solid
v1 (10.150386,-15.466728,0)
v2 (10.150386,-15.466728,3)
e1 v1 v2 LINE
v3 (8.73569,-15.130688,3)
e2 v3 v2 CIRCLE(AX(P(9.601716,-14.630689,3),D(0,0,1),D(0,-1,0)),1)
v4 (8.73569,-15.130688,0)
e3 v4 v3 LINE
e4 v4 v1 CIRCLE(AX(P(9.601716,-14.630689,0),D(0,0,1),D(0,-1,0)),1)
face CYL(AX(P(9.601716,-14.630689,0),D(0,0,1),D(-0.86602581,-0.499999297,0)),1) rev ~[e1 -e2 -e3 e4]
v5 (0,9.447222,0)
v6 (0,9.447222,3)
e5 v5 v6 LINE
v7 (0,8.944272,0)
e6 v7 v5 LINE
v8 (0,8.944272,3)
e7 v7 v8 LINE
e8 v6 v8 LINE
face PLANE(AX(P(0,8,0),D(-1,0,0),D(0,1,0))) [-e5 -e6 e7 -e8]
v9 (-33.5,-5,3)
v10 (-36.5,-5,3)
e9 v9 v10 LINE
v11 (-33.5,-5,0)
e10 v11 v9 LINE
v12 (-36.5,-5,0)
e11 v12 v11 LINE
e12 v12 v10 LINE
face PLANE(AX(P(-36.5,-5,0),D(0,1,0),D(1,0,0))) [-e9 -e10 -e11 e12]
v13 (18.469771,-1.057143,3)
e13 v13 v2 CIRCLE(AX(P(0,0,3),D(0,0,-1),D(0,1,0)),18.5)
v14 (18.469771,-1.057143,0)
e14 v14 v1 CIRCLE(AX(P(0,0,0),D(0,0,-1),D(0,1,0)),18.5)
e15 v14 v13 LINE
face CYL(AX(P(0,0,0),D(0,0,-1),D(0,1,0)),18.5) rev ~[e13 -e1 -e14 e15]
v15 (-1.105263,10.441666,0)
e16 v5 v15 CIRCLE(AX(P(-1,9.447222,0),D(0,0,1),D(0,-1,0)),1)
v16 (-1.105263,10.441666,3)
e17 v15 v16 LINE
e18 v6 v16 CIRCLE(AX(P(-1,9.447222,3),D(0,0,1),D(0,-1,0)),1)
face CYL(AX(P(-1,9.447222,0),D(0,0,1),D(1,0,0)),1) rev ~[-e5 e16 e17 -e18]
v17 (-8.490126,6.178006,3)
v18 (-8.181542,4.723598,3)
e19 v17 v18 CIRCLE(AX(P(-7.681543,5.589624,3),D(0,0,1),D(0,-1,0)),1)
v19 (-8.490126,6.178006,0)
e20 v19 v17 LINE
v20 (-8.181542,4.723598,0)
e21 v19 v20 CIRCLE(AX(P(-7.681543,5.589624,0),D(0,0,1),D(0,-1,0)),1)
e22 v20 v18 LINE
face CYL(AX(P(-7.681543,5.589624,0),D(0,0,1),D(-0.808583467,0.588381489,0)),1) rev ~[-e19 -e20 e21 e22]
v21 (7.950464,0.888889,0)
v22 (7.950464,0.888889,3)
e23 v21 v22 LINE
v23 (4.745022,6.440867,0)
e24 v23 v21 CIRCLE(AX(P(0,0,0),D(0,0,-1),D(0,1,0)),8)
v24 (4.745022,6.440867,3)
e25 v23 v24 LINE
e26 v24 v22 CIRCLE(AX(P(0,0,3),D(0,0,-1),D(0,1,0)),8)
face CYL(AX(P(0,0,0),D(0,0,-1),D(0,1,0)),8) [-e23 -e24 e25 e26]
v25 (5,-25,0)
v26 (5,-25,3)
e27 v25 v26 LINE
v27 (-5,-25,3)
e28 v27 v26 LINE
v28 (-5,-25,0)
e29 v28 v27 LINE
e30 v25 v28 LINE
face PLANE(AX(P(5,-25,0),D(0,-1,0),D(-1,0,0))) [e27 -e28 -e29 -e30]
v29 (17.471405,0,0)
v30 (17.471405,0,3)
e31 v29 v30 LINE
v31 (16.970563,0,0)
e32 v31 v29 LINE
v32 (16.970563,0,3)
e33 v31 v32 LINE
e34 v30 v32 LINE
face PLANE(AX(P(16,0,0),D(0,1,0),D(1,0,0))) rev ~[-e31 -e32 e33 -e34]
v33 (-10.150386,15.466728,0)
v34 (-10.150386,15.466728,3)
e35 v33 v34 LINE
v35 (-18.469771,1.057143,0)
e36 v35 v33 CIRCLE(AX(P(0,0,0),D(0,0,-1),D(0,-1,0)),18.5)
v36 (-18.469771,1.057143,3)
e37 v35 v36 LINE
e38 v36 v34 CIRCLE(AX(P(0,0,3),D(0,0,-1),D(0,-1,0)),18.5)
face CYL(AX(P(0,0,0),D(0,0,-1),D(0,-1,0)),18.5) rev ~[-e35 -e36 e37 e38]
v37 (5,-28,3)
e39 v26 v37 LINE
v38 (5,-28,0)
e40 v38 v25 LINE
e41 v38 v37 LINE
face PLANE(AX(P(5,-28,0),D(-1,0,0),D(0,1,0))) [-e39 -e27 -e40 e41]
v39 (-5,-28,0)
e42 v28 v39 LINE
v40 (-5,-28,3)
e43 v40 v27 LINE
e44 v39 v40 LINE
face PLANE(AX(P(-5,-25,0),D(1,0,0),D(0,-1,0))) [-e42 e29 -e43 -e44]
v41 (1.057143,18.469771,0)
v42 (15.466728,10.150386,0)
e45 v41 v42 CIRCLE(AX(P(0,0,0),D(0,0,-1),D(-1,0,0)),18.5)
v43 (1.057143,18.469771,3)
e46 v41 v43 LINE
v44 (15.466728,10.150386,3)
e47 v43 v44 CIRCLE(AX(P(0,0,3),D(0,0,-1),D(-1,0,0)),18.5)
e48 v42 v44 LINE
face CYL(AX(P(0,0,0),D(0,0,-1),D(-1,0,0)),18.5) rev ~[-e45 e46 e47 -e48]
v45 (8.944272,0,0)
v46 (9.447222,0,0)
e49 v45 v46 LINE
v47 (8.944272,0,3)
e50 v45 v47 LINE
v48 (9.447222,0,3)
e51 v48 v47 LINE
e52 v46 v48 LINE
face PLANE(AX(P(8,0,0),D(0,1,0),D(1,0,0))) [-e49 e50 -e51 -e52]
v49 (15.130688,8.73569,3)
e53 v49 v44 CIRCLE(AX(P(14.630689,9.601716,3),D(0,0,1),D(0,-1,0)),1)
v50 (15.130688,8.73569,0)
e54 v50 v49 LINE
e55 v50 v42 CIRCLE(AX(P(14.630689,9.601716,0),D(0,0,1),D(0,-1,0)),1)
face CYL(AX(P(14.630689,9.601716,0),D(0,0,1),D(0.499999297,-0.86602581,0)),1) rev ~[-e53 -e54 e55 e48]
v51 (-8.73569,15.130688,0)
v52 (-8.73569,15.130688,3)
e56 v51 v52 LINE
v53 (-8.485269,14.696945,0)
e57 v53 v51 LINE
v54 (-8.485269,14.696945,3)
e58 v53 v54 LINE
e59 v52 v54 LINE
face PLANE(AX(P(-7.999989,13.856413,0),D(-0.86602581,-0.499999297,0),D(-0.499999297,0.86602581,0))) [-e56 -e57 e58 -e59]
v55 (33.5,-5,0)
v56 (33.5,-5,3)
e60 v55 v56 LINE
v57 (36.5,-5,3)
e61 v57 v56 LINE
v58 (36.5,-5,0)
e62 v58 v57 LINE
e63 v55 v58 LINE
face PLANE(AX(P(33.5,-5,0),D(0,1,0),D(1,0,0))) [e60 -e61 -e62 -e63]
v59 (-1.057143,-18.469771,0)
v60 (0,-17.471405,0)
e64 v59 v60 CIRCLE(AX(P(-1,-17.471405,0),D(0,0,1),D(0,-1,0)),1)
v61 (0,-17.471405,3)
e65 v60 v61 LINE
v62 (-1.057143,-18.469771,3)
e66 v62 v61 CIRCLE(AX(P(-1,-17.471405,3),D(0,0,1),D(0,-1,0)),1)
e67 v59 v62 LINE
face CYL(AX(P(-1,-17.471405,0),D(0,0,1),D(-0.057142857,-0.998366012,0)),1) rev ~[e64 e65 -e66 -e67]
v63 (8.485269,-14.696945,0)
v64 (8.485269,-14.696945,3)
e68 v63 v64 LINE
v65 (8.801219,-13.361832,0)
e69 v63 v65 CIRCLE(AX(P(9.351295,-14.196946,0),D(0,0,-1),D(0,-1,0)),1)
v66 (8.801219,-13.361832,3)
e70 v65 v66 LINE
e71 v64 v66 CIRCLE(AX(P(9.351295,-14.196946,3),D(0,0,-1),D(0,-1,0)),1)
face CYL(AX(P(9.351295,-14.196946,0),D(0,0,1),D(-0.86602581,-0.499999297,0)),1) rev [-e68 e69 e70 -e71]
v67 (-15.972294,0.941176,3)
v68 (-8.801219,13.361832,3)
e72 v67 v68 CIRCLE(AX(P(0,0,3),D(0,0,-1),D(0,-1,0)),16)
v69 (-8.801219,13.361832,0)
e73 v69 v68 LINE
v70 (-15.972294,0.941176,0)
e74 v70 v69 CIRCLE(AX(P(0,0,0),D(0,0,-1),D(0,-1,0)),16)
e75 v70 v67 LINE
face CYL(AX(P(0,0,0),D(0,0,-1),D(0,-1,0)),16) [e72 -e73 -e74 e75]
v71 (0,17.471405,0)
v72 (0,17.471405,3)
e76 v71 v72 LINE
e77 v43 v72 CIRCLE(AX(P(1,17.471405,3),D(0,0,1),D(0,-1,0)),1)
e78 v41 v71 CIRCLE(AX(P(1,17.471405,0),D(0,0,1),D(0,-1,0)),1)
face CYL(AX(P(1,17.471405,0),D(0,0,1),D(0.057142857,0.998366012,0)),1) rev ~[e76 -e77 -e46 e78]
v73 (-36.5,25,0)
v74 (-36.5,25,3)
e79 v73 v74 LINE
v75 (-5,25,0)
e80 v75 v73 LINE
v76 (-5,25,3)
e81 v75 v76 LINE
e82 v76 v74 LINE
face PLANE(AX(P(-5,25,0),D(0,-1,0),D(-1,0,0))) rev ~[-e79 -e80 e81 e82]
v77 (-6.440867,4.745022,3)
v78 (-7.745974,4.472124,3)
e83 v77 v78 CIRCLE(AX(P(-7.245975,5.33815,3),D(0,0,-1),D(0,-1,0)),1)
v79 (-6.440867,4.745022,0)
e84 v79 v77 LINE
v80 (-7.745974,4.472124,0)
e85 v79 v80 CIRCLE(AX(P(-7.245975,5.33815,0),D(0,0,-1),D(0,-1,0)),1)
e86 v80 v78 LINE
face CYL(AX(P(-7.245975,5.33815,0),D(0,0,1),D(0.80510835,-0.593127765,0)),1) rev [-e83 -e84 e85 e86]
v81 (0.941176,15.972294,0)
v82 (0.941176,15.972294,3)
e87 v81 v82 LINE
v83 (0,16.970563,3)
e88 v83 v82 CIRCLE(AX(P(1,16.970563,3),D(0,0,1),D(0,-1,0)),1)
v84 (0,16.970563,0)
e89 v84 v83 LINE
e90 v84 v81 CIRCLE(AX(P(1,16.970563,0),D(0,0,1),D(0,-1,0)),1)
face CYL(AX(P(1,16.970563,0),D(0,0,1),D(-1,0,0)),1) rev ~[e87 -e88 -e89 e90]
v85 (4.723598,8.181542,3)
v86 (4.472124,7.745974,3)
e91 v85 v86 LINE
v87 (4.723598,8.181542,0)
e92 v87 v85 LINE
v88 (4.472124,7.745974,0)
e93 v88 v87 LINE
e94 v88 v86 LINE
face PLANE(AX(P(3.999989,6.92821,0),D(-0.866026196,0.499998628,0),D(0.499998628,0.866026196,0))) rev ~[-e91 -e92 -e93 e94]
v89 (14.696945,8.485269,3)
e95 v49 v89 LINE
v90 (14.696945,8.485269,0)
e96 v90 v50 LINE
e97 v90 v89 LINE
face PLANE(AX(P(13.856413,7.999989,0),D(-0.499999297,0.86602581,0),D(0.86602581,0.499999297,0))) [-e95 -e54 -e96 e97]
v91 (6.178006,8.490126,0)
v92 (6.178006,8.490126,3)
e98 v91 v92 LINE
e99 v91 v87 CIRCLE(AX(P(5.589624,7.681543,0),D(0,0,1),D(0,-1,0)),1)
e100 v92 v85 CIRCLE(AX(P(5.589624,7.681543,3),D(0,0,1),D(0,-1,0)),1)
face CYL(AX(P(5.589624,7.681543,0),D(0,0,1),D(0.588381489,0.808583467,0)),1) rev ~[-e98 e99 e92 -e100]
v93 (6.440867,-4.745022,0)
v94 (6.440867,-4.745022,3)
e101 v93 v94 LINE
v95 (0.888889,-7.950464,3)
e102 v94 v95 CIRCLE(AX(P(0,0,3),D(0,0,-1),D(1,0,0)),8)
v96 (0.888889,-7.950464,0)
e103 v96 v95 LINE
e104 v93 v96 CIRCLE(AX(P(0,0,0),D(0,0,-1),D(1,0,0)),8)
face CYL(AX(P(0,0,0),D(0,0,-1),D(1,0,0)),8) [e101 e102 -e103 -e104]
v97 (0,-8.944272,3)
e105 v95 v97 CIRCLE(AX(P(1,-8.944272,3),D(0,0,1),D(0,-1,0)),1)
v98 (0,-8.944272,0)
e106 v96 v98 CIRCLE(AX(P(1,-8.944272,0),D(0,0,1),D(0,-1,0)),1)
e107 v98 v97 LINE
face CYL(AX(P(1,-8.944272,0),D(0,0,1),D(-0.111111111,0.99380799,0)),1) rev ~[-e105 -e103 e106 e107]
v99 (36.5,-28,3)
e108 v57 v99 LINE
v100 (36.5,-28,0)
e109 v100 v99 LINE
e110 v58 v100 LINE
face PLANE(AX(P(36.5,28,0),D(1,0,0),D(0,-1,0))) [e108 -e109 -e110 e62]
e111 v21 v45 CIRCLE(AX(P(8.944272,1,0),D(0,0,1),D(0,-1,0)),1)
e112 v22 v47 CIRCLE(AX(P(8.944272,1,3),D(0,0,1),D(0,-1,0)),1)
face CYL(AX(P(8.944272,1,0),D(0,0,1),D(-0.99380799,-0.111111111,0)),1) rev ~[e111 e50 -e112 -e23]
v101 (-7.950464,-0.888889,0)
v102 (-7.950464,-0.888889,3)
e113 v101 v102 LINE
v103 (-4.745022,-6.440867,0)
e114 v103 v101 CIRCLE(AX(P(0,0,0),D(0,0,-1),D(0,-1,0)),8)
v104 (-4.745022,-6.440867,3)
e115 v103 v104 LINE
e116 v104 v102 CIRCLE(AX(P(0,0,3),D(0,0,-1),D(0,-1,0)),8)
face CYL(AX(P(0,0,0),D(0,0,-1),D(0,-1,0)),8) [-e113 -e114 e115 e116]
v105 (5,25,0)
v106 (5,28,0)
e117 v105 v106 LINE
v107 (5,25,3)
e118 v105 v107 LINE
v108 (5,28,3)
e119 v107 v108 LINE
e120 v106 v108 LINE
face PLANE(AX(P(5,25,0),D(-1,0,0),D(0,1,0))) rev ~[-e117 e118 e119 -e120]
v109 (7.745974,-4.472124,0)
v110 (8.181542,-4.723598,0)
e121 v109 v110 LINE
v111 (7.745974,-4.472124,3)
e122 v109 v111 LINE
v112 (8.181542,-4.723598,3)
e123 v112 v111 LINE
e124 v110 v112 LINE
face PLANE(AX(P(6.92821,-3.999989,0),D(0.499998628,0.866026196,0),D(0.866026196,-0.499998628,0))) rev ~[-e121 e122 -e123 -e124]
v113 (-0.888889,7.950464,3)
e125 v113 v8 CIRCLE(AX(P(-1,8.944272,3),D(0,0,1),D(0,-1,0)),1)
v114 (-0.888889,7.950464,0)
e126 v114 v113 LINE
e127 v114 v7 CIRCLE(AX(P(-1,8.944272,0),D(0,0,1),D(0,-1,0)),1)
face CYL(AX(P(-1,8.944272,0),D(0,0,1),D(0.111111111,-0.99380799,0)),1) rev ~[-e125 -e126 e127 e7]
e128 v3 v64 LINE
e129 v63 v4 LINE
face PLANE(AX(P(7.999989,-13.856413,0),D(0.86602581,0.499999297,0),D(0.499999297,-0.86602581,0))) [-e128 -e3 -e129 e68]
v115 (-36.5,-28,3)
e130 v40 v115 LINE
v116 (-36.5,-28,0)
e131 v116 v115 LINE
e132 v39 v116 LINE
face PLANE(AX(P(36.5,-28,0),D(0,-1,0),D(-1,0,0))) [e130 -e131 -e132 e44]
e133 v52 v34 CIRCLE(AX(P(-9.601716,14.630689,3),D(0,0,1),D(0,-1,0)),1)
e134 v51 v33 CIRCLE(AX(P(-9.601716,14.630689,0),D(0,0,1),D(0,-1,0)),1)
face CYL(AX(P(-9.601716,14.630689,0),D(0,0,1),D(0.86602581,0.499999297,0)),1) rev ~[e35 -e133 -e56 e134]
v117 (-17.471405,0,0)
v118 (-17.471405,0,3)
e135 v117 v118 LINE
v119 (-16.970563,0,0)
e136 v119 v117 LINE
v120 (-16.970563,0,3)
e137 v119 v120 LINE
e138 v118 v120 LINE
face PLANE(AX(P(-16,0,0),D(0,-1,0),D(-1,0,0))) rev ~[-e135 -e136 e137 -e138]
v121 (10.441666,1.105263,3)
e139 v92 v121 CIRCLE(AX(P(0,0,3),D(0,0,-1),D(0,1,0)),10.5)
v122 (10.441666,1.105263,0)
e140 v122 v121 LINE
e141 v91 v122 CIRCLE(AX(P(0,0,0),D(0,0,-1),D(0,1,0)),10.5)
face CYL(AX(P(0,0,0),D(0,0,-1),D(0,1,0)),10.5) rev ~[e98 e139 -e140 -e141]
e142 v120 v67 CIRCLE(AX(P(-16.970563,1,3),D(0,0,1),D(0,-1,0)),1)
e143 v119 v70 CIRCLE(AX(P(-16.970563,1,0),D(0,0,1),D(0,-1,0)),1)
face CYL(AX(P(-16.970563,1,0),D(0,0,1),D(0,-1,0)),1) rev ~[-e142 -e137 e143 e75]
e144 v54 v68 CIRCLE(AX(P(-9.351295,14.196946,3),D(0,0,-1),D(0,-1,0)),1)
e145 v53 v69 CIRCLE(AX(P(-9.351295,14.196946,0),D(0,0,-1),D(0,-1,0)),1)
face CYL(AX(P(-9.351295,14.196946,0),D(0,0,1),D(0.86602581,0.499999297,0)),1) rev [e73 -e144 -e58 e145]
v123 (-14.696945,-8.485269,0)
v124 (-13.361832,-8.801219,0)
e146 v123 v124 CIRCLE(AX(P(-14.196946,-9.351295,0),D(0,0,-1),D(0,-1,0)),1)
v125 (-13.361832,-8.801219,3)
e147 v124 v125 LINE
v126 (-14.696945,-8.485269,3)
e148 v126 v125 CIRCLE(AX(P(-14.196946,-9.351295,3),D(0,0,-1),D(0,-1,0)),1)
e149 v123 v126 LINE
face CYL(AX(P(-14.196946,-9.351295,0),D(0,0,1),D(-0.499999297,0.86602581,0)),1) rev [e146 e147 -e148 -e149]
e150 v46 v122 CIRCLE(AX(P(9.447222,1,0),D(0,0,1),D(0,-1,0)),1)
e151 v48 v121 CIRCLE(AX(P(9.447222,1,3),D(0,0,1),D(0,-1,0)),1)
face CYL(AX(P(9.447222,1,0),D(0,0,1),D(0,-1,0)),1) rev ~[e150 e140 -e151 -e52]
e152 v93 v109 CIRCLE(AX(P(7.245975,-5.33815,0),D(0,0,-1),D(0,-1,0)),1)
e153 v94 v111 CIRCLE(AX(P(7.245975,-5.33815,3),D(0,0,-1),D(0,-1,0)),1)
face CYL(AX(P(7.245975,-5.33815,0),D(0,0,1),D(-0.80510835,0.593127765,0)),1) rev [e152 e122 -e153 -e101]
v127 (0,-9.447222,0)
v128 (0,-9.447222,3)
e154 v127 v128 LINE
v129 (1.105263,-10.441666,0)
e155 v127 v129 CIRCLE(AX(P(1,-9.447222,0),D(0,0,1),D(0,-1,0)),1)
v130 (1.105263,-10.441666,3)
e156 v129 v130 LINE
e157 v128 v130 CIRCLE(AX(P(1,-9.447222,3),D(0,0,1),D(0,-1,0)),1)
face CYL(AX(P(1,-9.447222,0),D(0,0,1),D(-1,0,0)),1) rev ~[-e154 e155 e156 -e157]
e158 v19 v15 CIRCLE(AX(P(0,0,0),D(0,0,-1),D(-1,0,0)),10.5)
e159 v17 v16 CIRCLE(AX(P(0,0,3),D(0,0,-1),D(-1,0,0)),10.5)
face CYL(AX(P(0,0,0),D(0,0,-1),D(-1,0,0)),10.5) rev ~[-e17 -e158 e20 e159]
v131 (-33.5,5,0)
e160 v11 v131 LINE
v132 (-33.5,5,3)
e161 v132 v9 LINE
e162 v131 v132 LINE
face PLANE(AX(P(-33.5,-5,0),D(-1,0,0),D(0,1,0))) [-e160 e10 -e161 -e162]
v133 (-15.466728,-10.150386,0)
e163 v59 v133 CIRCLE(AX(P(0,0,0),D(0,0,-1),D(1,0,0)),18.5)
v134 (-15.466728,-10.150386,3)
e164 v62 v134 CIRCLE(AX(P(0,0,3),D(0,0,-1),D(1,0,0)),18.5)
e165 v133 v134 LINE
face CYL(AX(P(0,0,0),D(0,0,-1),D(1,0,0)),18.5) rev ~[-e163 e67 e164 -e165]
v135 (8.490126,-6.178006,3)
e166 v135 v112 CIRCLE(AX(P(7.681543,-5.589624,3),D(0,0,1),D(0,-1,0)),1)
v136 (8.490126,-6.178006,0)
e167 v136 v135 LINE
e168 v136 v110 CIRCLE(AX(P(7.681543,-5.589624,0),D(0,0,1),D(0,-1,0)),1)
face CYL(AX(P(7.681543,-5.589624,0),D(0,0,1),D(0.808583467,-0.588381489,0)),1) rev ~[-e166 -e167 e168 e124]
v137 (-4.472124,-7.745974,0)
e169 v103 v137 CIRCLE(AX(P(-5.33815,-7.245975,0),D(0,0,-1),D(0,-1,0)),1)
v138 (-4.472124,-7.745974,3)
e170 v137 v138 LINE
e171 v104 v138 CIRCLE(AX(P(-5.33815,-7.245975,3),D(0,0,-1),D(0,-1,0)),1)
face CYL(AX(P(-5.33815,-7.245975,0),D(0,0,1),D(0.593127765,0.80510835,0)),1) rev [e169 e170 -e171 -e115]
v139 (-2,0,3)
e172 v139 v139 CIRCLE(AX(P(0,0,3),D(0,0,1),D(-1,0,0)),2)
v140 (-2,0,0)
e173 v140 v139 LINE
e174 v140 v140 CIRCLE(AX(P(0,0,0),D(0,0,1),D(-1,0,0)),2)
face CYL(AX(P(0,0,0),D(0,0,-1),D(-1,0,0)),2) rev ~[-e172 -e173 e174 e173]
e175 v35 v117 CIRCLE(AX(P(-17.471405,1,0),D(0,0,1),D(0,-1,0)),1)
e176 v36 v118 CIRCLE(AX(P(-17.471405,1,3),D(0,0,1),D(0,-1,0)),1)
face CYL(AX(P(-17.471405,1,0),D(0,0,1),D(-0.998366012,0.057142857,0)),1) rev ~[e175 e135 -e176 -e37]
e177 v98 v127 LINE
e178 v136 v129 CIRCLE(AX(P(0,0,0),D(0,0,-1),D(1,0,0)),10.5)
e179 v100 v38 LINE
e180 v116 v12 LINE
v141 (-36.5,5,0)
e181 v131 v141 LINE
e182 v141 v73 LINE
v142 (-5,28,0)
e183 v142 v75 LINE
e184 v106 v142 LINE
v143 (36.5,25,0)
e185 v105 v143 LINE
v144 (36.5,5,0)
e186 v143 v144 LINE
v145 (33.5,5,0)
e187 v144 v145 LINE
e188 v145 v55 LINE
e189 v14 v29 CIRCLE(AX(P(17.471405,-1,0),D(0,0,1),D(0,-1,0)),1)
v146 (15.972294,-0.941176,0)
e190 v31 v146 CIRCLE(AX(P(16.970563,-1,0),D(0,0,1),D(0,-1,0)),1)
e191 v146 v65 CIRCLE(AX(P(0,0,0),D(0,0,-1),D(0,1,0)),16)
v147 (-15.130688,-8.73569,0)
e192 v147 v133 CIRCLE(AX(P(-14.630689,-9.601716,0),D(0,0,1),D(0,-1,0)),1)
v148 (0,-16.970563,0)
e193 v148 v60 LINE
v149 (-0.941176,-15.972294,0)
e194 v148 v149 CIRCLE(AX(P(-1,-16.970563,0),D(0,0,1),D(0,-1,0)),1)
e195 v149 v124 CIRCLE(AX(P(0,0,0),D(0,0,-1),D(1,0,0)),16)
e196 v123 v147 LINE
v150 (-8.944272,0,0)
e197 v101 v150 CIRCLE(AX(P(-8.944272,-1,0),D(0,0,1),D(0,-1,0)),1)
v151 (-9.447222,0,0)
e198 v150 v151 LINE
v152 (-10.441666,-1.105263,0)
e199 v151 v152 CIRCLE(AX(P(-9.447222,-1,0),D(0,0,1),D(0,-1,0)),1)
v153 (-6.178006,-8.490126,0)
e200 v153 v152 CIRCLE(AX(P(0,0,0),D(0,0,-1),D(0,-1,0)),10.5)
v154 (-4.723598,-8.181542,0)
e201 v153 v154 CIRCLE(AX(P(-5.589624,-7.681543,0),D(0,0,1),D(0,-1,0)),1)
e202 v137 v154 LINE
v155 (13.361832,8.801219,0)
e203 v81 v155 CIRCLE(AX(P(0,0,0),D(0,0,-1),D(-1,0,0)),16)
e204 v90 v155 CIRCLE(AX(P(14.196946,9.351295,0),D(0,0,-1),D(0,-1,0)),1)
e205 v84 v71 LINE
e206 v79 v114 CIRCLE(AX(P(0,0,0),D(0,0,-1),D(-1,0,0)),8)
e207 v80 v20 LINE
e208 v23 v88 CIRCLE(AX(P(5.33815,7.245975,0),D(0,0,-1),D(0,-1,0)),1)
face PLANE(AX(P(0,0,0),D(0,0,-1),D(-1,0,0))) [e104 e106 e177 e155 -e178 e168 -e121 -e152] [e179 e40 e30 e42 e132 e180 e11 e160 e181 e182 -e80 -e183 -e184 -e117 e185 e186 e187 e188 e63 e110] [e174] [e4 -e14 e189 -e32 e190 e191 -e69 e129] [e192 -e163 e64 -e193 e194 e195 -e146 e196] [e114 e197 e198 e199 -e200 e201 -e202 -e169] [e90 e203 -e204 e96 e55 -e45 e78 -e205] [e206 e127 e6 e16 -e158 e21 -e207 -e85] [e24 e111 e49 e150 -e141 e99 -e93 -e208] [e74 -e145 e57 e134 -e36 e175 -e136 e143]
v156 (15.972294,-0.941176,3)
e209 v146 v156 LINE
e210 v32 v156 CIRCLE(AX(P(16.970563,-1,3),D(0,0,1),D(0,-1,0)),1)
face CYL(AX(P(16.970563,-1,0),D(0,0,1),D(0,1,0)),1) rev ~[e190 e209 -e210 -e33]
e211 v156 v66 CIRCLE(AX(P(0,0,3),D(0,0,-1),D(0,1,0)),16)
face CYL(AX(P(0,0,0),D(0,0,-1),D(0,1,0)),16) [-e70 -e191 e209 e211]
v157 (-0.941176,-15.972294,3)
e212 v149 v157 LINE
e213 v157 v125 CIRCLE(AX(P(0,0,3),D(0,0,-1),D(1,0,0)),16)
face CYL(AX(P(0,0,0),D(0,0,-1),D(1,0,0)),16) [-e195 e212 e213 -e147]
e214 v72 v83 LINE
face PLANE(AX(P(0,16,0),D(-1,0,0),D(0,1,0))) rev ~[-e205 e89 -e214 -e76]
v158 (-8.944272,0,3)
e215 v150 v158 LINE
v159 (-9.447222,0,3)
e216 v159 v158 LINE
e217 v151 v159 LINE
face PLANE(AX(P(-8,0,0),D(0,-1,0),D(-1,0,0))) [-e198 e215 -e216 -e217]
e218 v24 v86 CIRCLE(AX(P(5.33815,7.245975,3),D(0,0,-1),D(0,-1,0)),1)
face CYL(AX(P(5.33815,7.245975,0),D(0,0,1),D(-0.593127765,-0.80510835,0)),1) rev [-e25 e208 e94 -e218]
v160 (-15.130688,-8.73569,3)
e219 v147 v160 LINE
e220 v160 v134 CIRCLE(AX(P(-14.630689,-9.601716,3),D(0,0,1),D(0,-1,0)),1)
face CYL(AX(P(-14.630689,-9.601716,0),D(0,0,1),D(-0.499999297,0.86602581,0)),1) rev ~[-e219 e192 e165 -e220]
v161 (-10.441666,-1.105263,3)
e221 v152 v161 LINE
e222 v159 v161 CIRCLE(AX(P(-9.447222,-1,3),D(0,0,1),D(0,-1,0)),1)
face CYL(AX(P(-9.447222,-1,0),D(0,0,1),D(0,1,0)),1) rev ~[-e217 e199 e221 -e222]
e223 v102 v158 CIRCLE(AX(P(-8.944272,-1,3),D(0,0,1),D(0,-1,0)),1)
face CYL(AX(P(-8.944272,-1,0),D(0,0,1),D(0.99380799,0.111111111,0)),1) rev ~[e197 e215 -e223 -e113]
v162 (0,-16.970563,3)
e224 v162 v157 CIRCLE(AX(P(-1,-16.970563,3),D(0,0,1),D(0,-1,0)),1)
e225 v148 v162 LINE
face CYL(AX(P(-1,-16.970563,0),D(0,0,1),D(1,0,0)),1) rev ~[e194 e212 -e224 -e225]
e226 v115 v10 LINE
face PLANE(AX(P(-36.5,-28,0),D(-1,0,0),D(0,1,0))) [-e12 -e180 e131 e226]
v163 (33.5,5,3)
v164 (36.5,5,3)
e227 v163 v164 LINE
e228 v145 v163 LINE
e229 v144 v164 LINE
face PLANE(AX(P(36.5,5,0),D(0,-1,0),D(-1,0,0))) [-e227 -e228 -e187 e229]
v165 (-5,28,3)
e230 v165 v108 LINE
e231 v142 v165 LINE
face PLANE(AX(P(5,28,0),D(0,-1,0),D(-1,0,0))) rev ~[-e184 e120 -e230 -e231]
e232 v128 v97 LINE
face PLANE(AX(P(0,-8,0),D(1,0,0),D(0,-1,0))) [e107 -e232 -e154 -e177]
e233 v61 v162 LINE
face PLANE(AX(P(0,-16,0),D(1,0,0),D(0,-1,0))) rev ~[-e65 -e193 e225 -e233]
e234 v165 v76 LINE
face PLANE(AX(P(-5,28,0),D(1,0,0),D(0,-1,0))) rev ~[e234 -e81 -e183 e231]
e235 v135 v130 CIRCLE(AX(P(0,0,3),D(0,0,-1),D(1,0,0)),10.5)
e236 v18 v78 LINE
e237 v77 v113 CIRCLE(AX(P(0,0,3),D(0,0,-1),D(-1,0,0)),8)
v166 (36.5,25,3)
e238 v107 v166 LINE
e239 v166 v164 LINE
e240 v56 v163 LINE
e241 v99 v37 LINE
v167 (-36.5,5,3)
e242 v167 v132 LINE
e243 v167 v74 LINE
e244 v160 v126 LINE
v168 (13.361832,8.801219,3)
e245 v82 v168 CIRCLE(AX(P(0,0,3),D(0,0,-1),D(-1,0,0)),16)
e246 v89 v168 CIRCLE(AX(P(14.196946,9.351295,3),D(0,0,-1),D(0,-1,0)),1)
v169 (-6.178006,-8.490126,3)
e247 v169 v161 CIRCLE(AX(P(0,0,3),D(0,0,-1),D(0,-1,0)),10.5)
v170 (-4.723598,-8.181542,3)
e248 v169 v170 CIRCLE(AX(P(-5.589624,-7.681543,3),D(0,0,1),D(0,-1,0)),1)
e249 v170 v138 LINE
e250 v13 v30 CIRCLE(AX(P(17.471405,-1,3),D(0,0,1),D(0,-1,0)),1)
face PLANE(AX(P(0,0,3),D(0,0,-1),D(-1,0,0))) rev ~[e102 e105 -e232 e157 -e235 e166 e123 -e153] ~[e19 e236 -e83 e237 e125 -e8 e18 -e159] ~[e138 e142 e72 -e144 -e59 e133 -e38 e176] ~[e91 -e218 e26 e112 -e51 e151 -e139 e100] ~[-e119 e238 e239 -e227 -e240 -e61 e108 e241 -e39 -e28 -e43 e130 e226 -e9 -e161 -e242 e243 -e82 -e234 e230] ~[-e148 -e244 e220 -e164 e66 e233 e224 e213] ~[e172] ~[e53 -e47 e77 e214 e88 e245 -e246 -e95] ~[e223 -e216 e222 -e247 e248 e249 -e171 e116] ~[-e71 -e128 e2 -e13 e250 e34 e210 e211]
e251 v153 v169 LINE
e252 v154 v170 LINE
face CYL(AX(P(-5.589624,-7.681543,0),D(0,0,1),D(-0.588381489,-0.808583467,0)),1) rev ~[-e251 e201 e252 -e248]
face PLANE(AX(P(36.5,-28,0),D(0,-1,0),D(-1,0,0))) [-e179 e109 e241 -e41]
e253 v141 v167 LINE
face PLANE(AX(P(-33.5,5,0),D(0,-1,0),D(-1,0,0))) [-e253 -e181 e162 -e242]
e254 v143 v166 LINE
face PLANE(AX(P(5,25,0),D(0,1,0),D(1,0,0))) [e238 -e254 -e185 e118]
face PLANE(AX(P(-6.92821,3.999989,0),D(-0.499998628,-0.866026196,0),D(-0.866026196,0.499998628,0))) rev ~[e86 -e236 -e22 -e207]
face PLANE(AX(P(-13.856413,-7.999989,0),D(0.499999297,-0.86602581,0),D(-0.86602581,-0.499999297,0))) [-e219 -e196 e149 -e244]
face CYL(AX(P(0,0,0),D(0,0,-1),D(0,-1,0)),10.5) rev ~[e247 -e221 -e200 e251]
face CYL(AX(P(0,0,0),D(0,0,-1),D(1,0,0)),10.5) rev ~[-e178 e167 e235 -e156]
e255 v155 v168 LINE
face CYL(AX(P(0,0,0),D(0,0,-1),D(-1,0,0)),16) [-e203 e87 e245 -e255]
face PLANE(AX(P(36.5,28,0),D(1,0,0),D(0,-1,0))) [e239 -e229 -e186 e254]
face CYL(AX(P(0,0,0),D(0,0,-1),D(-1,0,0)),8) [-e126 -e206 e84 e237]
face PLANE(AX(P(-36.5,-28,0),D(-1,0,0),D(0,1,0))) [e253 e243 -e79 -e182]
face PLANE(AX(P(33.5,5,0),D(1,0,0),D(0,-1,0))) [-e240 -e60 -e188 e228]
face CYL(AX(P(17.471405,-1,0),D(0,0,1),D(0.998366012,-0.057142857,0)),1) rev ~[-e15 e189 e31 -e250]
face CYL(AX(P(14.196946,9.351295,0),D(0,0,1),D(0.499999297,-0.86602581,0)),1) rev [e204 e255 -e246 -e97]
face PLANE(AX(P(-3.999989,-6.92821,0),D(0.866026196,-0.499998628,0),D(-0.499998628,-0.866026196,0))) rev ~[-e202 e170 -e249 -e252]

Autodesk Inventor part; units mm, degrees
ref_plane "YZ Plane" through (0, 0, 0) normal (1, 0, 0) x (0, 1, 0)
ref_plane "XZ Plane" through (0, 0, 0) normal (0, 1, 0) x (-1, 0, 0)
ref_plane "XY Plane" through (0, 0, 0) normal (0, 0, 1) x (1, 0, 0)
sketch "Sketch1" plane through (0, 0, 0) normal (0, 0, 1) x (1, 0, 0)
  line L0 (36.5, -28) -> (-36.5, -28)
  line L1 (-36.5, -28) -> (-36.5, 28)
  line L2 (-36.5, 28) -> (36.5, 28)
  line L3 (36.5, 28) -> (36.5, -28)
  line L4 (36.5, -28) -> (-36.5, 28) construction
  line L5 (-36.5, -28) -> (36.5, 28) construction
  point P0 (0, 0)
  dimension "d0" = 73
  dimension "d1" = 56
extrude "Extrusion1" add sketch "Sketch1" along normal blind 3
sketch "Sketch2" plane through (0, 0, 0) normal (0, 0, -1) x (-1, 0, 0)
  line L0 (36.5, -5) -> (33.5, -5)
  line L1 (33.5, -5) -> (33.5, 5)
  line L2 (33.5, 5) -> (36.5, 5)
  line L3 (36.5, 5) -> (36.5, -5)
  line L4 (36.5, -5) -> (33.5, 5) construction
  line L5 (33.5, -5) -> (36.5, 5) construction
  line L6 (36.5, 28) -> (36.5, -28) projected
  circle A0 centre (0, 0) radius 2
  circle A1 centre (0, 0) radius 8
  circle A2 centre (0, 0) radius 10.5
  circle A3 centre (0, 0) radius 16
  circle A4 centre (0, 0) radius 18.5
  line L7 (0, 0) -> (0, 10.5)
  line L8 (0, 0) -> (9.0933, 5.25)
  line L9 (0, 0) -> (0, 18.5)
  line L10 (0, 0) -> (-16.0215, 9.25)
  point P0 (35, 0)
  point P1 (36.5, 0)
  point P2 (-13.8564, 8)
  point P3 (0, 16)
  point P4 (6.9282, 4)
  point P5 (0, 8)
  dimension "d4" = 3
  dimension "d5" = 10
  dimension "d6" = 4
  dimension "d7" = 16
  dimension "d8" = 21
  dimension "d9" = 32
  dimension "d10" = 37
  dimension "d11" = 60
  dimension "d12" = 60
extrude "Extrusion3" cut sketch "Sketch2" against normal through all contours A0 L10 L8 | L8 L7 A0 | A0 L7 L10 | A1 L7 A2 L8 | L10 A4 L9 A3 picked at (-14.542, 9.8763)
fillet "Fillet1" radius 1 8 edges at (13.8564, 8, 1.5) (-6.9282, 4, 1.5) (0, 8, 1.5) (16.0215, 9.25, 1.5) (0, 10.5, 1.5) (-9.0933, 5.25, 1.5) (0, 16, 1.5) (0, 18.5, 1.5)
pattern_circular "Circular Pattern1" count 4 over 360 about axis through (0, 0, 0) along (0, 0, 1) of "Extrusion3", "Fillet1"
sketch "Sketch5" plane through (0, 0, 0) normal (0, 0, -1) x (-1, 0, 0)
  line L0 (5, 25) -> (-5, 25)
  line L1 (-5, 25) -> (-5, 28)
  line L2 (-5, 28) -> (5, 28)
  line L3 (5, 28) -> (5, 25)
  line L4 (5, 25) -> (-5, 28) construction
  line L5 (-5, 25) -> (5, 28) construction
  line L6 (36.5, 28) -> (36.5, -28) projected
  line L7 (-36.5, 28) -> (36.5, 28) projected
  line L8 (5, -28) -> (-5, -28)
  line L9 (-5, -28) -> (-5, -25)
  line L10 (-5, -25) -> (5, -25)
  line L11 (5, -25) -> (5, -28)
  line L12 (5, -28) -> (-5, -25) construction
  line L13 (-5, -28) -> (5, -25) construction
  line L14 (36.5, -28) -> (-36.5, -28) projected
  line L15 (-36.5, 5) -> (-33.5, 5)
  line L16 (-33.5, 5) -> (-33.5, -5)
  line L17 (-33.5, -5) -> (-36.5, -5)
  line L18 (-36.5, -5) -> (-36.5, 5)
  line L19 (-36.5, 5) -> (-33.5, -5) construction
  line L20 (-33.5, 5) -> (-36.5, -5) construction
  line L21 (-36.5, -28) -> (-36.5, 28) projected
  line L22 (33.5, 5) -> (36.5, 5)
  line L23 (36.5, 5) -> (36.5, -5)
  line L24 (36.5, -5) -> (33.5, -5)
  line L25 (33.5, -5) -> (33.5, 5)
  line L26 (33.5, 5) -> (36.5, -5) construction
  line L27 (36.5, 5) -> (33.5, -5) construction
  point P0 (0, 0)
  point P1 (0, 26.5)
  point P2 (0, 28)
  point P3 (0, -26.5)
  point P4 (0, -28)
  point P5 (-35, 0)
  point P6 (-36.5, 0)
  point P7 (35, 0)
  point P8 (36.5, 0)
  dimension "d31" = 10
  dimension "d32" = 3
  dimension "d33" = 36.5
  dimension "d34" = 10
  dimension "d35" = 3
  dimension "d36" = 3
  dimension "d37" = 10
  dimension "d38" = 3
  dimension "d39" = 10
extrude "Extrusion6" cut sketch "Sketch5" against normal through all contours L0 L1 L2 L3 | L6 L24 L25 L22 | L15 L16 L17 L18 | L8 L9 L10 L11
sketch "Sketch6" plane through (0, 0, 0) normal (0, 0, -1) x (-1, 0, 0)
  line L0 (-36.5, 28) -> (-5, 28) projected
  line L1 (5, 28) -> (36.5, 28) projected
  line L2 (5, 25) -> (-5, 25) projected
  line L3 (5, 28) -> (5, 25) projected
  line L4 (-5, 25) -> (-5, 28) projected
  line L5 (-5, 28) -> (5, 28)
  line L6 (-5, 25) -> (-36.5, 25)
  line L7 (-36.5, 5) -> (-36.5, 28) projected
  line L8 (5, 25) -> (36.5, 25)
  line L9 (36.5, 28) -> (36.5, 5) projected
  point P0 (0, 0)
extrude "Extrusion7" add sketch "Sketch6" against normal blind 3 contours L5 L3 L2 L4
extrude "Extrusion8" cut sketch "Sketch6" against normal through all contours L0 L4 L6 L7 | L1 L9 L8 L3
sketch "Sketch7" plane through (0, 0, 3) normal (0, 0, 1) x (1, 0, 0)
  line L0 (-5, -25) -> (-5, -28) projected
  line L1 (-5, -28) -> (-36.5, -28) projected
  line L2 (-36.5, -28) -> (-36.5, -5) projected
  line L3 (-36.5, -5) -> (-33.5, -5) projected
  line L4 (-33.5, -5) -> (-33.5, 5) projected
  line L5 (-33.5, 5) -> (-36.5, 5) projected
  line L6 (-36.5, 5) -> (-36.5, 25) projected
  line L7 (-36.5, 25) -> (-5, 25) projected
  line L8 (-5, 25) -> (-5, 28) projected
  line L9 (-5, 28) -> (5, 28) projected
  line L10 (5, 28) -> (5, 25) projected
  line L11 (5, 25) -> (36.5, 25) projected
  line L12 (36.5, 25) -> (36.5, 5) projected
  line L13 (36.5, 5) -> (33.5, 5) projected
  line L14 (33.5, 5) -> (33.5, -5) projected
  line L15 (33.5, -5) -> (36.5, -5) projected
  line L16 (36.5, -5) -> (36.5, -28) projected
  line L17 (36.5, -28) -> (5, -28) projected
  line L18 (5, -28) -> (5, -25) projected
  line L19 (5, -25) -> (-5, -25) projected
  arc A0 (16.9706, 0) -> (15.9723, -0.9412) centre (16.9706, -1) ccw projected
  arc A1 (8.8012, -13.3618) -> (15.9723, -0.9412) centre (0, 0) ccw projected
  arc A2 (8.8012, -13.3618) -> (8.4853, -14.6969) centre (9.3513, -14.1969) ccw projected
  line L20 (8.4853, -14.6969) -> (8.7357, -15.1307) projected
  arc A3 (8.7357, -15.1307) -> (10.1504, -15.4667) centre (9.6017, -14.6307) ccw projected
  arc A4 (10.1504, -15.4667) -> (18.4698, -1.0571) centre (0, 0) ccw projected
  arc A5 (18.4698, -1.0571) -> (17.4714, 0) centre (17.4714, -1) ccw projected
  line L21 (17.4714, 0) -> (16.9706, 0) projected
  arc A6 (6.178, 8.4901) -> (4.7236, 8.1815) centre (5.5896, 7.6815) ccw projected
  line L22 (4.7236, 8.1815) -> (4.4721, 7.746) projected
  arc A7 (4.4721, 7.746) -> (4.745, 6.4409) centre (5.3382, 7.246) ccw projected
  arc A8 (7.9505, 0.8889) -> (4.745, 6.4409) centre (0, 0) ccw projected
  arc A9 (7.9505, 0.8889) -> (8.9443, 0) centre (8.9443, 1) ccw projected
  line L23 (8.9443, 0) -> (9.4472, 0) projected
  arc A10 (9.4472, 0) -> (10.4417, 1.1053) centre (9.4472, 1) ccw projected
  arc A11 (10.4417, 1.1053) -> (6.178, 8.4901) centre (0, 0) ccw projected
  arc A12 (0, -16.9706) -> (-0.9412, -15.9723) centre (-1, -16.9706) ccw projected
  arc A13 (-13.3618, -8.8012) -> (-0.9412, -15.9723) centre (0, 0) ccw projected
  arc A14 (-13.3618, -8.8012) -> (-14.6969, -8.4853) centre (-14.1969, -9.3513) ccw projected
  line L24 (-14.6969, -8.4853) -> (-15.1307, -8.7357) projected
  arc A15 (-15.1307, -8.7357) -> (-15.4667, -10.1504) centre (-14.6307, -9.6017) ccw projected
  arc A16 (-15.4667, -10.1504) -> (-1.0571, -18.4698) centre (0, 0) ccw projected
  arc A17 (-1.0571, -18.4698) -> (0, -17.4714) centre (-1, -17.4714) ccw projected
  line L25 (0, -17.4714) -> (0, -16.9706) projected
  arc A18 (8.4901, -6.178) -> (8.1815, -4.7236) centre (7.6815, -5.5896) ccw projected
  line L26 (8.1815, -4.7236) -> (7.746, -4.4721) projected
  arc A19 (7.746, -4.4721) -> (6.4409, -4.745) centre (7.246, -5.3382) ccw projected
  arc A20 (0.8889, -7.9505) -> (6.4409, -4.745) centre (0, 0) ccw projected
  arc A21 (0.8889, -7.9505) -> (0, -8.9443) centre (1, -8.9443) ccw projected
  line L27 (0, -8.9443) -> (0, -9.4472) projected
  arc A22 (0, -9.4472) -> (1.1053, -10.4417) centre (1, -9.4472) ccw projected
  arc A23 (1.1053, -10.4417) -> (8.4901, -6.178) centre (0, 0) ccw projected
  arc A24 (-16.9706, 0) -> (-15.9723, 0.9412) centre (-16.9706, 1) ccw projected
  arc A25 (-8.8012, 13.3618) -> (-15.9723, 0.9412) centre (0, 0) ccw projected
  arc A26 (-8.8012, 13.3618) -> (-8.4853, 14.6969) centre (-9.3513, 14.1969) ccw projected
  line L28 (-8.4853, 14.6969) -> (-8.7357, 15.1307) projected
  arc A27 (-8.7357, 15.1307) -> (-10.1504, 15.4667) centre (-9.6017, 14.6307) ccw projected
  arc A28 (-10.1504, 15.4667) -> (-18.4698, 1.0571) centre (0, 0) ccw projected
  arc A29 (-18.4698, 1.0571) -> (-17.4714, 0) centre (-17.4714, 1) ccw projected
  line L29 (-17.4714, 0) -> (-16.9706, 0) projected
  arc A30 (-6.178, -8.4901) -> (-4.7236, -8.1815) centre (-5.5896, -7.6815) ccw projected
  line L30 (-4.7236, -8.1815) -> (-4.4721, -7.746) projected
  arc A31 (-4.4721, -7.746) -> (-4.745, -6.4409) centre (-5.3382, -7.246) ccw projected
  arc A32 (-7.9505, -0.8889) -> (-4.745, -6.4409) centre (0, 0) ccw projected
  arc A33 (-7.9505, -0.8889) -> (-8.9443, 0) centre (-8.9443, -1) ccw projected
  line L31 (-8.9443, 0) -> (-9.4472, 0) projected
  arc A34 (-9.4472, 0) -> (-10.4417, -1.1053) centre (-9.4472, -1) ccw projected
  arc A35 (-10.4417, -1.1053) -> (-6.178, -8.4901) centre (0, 0) ccw projected
  arc A36 (0, 16.9706) -> (0.9412, 15.9723) centre (1, 16.9706) ccw projected
  arc A37 (13.3618, 8.8012) -> (0.9412, 15.9723) centre (0, 0) ccw projected
  arc A38 (13.3618, 8.8012) -> (14.6969, 8.4853) centre (14.1969, 9.3513) ccw projected
  line L32 (14.6969, 8.4853) -> (15.1307, 8.7357) projected
  arc A39 (15.1307, 8.7357) -> (15.4667, 10.1504) centre (14.6307, 9.6017) ccw projected
  arc A40 (15.4667, 10.1504) -> (1.0571, 18.4698) centre (0, 0) ccw projected
  arc A41 (1.0571, 18.4698) -> (0, 17.4714) centre (1, 17.4714) ccw projected
  line L33 (0, 17.4714) -> (0, 16.9706) projected
  arc A42 (-8.4901, 6.178) -> (-8.1815, 4.7236) centre (-7.6815, 5.5896) ccw projected
  line L34 (-8.1815, 4.7236) -> (-7.746, 4.4721) projected
  arc A43 (-7.746, 4.4721) -> (-6.4409, 4.745) centre (-7.246, 5.3382) ccw projected
  arc A44 (-0.8889, 7.9505) -> (-6.4409, 4.745) centre (0, 0) ccw projected
  arc A45 (-0.8889, 7.9505) -> (0, 8.9443) centre (-1, 8.9443) ccw projected
  line L35 (0, 8.9443) -> (0, 9.4472) projected
  arc A46 (0, 9.4472) -> (-1.1053, 10.4417) centre (-1, 9.4472) ccw projected
  arc A47 (-1.1053, 10.4417) -> (-8.4901, 6.178) centre (0, 0) ccw projected
  circle A48 centre (0, 0) radius 2 projected
properties part number "right"
